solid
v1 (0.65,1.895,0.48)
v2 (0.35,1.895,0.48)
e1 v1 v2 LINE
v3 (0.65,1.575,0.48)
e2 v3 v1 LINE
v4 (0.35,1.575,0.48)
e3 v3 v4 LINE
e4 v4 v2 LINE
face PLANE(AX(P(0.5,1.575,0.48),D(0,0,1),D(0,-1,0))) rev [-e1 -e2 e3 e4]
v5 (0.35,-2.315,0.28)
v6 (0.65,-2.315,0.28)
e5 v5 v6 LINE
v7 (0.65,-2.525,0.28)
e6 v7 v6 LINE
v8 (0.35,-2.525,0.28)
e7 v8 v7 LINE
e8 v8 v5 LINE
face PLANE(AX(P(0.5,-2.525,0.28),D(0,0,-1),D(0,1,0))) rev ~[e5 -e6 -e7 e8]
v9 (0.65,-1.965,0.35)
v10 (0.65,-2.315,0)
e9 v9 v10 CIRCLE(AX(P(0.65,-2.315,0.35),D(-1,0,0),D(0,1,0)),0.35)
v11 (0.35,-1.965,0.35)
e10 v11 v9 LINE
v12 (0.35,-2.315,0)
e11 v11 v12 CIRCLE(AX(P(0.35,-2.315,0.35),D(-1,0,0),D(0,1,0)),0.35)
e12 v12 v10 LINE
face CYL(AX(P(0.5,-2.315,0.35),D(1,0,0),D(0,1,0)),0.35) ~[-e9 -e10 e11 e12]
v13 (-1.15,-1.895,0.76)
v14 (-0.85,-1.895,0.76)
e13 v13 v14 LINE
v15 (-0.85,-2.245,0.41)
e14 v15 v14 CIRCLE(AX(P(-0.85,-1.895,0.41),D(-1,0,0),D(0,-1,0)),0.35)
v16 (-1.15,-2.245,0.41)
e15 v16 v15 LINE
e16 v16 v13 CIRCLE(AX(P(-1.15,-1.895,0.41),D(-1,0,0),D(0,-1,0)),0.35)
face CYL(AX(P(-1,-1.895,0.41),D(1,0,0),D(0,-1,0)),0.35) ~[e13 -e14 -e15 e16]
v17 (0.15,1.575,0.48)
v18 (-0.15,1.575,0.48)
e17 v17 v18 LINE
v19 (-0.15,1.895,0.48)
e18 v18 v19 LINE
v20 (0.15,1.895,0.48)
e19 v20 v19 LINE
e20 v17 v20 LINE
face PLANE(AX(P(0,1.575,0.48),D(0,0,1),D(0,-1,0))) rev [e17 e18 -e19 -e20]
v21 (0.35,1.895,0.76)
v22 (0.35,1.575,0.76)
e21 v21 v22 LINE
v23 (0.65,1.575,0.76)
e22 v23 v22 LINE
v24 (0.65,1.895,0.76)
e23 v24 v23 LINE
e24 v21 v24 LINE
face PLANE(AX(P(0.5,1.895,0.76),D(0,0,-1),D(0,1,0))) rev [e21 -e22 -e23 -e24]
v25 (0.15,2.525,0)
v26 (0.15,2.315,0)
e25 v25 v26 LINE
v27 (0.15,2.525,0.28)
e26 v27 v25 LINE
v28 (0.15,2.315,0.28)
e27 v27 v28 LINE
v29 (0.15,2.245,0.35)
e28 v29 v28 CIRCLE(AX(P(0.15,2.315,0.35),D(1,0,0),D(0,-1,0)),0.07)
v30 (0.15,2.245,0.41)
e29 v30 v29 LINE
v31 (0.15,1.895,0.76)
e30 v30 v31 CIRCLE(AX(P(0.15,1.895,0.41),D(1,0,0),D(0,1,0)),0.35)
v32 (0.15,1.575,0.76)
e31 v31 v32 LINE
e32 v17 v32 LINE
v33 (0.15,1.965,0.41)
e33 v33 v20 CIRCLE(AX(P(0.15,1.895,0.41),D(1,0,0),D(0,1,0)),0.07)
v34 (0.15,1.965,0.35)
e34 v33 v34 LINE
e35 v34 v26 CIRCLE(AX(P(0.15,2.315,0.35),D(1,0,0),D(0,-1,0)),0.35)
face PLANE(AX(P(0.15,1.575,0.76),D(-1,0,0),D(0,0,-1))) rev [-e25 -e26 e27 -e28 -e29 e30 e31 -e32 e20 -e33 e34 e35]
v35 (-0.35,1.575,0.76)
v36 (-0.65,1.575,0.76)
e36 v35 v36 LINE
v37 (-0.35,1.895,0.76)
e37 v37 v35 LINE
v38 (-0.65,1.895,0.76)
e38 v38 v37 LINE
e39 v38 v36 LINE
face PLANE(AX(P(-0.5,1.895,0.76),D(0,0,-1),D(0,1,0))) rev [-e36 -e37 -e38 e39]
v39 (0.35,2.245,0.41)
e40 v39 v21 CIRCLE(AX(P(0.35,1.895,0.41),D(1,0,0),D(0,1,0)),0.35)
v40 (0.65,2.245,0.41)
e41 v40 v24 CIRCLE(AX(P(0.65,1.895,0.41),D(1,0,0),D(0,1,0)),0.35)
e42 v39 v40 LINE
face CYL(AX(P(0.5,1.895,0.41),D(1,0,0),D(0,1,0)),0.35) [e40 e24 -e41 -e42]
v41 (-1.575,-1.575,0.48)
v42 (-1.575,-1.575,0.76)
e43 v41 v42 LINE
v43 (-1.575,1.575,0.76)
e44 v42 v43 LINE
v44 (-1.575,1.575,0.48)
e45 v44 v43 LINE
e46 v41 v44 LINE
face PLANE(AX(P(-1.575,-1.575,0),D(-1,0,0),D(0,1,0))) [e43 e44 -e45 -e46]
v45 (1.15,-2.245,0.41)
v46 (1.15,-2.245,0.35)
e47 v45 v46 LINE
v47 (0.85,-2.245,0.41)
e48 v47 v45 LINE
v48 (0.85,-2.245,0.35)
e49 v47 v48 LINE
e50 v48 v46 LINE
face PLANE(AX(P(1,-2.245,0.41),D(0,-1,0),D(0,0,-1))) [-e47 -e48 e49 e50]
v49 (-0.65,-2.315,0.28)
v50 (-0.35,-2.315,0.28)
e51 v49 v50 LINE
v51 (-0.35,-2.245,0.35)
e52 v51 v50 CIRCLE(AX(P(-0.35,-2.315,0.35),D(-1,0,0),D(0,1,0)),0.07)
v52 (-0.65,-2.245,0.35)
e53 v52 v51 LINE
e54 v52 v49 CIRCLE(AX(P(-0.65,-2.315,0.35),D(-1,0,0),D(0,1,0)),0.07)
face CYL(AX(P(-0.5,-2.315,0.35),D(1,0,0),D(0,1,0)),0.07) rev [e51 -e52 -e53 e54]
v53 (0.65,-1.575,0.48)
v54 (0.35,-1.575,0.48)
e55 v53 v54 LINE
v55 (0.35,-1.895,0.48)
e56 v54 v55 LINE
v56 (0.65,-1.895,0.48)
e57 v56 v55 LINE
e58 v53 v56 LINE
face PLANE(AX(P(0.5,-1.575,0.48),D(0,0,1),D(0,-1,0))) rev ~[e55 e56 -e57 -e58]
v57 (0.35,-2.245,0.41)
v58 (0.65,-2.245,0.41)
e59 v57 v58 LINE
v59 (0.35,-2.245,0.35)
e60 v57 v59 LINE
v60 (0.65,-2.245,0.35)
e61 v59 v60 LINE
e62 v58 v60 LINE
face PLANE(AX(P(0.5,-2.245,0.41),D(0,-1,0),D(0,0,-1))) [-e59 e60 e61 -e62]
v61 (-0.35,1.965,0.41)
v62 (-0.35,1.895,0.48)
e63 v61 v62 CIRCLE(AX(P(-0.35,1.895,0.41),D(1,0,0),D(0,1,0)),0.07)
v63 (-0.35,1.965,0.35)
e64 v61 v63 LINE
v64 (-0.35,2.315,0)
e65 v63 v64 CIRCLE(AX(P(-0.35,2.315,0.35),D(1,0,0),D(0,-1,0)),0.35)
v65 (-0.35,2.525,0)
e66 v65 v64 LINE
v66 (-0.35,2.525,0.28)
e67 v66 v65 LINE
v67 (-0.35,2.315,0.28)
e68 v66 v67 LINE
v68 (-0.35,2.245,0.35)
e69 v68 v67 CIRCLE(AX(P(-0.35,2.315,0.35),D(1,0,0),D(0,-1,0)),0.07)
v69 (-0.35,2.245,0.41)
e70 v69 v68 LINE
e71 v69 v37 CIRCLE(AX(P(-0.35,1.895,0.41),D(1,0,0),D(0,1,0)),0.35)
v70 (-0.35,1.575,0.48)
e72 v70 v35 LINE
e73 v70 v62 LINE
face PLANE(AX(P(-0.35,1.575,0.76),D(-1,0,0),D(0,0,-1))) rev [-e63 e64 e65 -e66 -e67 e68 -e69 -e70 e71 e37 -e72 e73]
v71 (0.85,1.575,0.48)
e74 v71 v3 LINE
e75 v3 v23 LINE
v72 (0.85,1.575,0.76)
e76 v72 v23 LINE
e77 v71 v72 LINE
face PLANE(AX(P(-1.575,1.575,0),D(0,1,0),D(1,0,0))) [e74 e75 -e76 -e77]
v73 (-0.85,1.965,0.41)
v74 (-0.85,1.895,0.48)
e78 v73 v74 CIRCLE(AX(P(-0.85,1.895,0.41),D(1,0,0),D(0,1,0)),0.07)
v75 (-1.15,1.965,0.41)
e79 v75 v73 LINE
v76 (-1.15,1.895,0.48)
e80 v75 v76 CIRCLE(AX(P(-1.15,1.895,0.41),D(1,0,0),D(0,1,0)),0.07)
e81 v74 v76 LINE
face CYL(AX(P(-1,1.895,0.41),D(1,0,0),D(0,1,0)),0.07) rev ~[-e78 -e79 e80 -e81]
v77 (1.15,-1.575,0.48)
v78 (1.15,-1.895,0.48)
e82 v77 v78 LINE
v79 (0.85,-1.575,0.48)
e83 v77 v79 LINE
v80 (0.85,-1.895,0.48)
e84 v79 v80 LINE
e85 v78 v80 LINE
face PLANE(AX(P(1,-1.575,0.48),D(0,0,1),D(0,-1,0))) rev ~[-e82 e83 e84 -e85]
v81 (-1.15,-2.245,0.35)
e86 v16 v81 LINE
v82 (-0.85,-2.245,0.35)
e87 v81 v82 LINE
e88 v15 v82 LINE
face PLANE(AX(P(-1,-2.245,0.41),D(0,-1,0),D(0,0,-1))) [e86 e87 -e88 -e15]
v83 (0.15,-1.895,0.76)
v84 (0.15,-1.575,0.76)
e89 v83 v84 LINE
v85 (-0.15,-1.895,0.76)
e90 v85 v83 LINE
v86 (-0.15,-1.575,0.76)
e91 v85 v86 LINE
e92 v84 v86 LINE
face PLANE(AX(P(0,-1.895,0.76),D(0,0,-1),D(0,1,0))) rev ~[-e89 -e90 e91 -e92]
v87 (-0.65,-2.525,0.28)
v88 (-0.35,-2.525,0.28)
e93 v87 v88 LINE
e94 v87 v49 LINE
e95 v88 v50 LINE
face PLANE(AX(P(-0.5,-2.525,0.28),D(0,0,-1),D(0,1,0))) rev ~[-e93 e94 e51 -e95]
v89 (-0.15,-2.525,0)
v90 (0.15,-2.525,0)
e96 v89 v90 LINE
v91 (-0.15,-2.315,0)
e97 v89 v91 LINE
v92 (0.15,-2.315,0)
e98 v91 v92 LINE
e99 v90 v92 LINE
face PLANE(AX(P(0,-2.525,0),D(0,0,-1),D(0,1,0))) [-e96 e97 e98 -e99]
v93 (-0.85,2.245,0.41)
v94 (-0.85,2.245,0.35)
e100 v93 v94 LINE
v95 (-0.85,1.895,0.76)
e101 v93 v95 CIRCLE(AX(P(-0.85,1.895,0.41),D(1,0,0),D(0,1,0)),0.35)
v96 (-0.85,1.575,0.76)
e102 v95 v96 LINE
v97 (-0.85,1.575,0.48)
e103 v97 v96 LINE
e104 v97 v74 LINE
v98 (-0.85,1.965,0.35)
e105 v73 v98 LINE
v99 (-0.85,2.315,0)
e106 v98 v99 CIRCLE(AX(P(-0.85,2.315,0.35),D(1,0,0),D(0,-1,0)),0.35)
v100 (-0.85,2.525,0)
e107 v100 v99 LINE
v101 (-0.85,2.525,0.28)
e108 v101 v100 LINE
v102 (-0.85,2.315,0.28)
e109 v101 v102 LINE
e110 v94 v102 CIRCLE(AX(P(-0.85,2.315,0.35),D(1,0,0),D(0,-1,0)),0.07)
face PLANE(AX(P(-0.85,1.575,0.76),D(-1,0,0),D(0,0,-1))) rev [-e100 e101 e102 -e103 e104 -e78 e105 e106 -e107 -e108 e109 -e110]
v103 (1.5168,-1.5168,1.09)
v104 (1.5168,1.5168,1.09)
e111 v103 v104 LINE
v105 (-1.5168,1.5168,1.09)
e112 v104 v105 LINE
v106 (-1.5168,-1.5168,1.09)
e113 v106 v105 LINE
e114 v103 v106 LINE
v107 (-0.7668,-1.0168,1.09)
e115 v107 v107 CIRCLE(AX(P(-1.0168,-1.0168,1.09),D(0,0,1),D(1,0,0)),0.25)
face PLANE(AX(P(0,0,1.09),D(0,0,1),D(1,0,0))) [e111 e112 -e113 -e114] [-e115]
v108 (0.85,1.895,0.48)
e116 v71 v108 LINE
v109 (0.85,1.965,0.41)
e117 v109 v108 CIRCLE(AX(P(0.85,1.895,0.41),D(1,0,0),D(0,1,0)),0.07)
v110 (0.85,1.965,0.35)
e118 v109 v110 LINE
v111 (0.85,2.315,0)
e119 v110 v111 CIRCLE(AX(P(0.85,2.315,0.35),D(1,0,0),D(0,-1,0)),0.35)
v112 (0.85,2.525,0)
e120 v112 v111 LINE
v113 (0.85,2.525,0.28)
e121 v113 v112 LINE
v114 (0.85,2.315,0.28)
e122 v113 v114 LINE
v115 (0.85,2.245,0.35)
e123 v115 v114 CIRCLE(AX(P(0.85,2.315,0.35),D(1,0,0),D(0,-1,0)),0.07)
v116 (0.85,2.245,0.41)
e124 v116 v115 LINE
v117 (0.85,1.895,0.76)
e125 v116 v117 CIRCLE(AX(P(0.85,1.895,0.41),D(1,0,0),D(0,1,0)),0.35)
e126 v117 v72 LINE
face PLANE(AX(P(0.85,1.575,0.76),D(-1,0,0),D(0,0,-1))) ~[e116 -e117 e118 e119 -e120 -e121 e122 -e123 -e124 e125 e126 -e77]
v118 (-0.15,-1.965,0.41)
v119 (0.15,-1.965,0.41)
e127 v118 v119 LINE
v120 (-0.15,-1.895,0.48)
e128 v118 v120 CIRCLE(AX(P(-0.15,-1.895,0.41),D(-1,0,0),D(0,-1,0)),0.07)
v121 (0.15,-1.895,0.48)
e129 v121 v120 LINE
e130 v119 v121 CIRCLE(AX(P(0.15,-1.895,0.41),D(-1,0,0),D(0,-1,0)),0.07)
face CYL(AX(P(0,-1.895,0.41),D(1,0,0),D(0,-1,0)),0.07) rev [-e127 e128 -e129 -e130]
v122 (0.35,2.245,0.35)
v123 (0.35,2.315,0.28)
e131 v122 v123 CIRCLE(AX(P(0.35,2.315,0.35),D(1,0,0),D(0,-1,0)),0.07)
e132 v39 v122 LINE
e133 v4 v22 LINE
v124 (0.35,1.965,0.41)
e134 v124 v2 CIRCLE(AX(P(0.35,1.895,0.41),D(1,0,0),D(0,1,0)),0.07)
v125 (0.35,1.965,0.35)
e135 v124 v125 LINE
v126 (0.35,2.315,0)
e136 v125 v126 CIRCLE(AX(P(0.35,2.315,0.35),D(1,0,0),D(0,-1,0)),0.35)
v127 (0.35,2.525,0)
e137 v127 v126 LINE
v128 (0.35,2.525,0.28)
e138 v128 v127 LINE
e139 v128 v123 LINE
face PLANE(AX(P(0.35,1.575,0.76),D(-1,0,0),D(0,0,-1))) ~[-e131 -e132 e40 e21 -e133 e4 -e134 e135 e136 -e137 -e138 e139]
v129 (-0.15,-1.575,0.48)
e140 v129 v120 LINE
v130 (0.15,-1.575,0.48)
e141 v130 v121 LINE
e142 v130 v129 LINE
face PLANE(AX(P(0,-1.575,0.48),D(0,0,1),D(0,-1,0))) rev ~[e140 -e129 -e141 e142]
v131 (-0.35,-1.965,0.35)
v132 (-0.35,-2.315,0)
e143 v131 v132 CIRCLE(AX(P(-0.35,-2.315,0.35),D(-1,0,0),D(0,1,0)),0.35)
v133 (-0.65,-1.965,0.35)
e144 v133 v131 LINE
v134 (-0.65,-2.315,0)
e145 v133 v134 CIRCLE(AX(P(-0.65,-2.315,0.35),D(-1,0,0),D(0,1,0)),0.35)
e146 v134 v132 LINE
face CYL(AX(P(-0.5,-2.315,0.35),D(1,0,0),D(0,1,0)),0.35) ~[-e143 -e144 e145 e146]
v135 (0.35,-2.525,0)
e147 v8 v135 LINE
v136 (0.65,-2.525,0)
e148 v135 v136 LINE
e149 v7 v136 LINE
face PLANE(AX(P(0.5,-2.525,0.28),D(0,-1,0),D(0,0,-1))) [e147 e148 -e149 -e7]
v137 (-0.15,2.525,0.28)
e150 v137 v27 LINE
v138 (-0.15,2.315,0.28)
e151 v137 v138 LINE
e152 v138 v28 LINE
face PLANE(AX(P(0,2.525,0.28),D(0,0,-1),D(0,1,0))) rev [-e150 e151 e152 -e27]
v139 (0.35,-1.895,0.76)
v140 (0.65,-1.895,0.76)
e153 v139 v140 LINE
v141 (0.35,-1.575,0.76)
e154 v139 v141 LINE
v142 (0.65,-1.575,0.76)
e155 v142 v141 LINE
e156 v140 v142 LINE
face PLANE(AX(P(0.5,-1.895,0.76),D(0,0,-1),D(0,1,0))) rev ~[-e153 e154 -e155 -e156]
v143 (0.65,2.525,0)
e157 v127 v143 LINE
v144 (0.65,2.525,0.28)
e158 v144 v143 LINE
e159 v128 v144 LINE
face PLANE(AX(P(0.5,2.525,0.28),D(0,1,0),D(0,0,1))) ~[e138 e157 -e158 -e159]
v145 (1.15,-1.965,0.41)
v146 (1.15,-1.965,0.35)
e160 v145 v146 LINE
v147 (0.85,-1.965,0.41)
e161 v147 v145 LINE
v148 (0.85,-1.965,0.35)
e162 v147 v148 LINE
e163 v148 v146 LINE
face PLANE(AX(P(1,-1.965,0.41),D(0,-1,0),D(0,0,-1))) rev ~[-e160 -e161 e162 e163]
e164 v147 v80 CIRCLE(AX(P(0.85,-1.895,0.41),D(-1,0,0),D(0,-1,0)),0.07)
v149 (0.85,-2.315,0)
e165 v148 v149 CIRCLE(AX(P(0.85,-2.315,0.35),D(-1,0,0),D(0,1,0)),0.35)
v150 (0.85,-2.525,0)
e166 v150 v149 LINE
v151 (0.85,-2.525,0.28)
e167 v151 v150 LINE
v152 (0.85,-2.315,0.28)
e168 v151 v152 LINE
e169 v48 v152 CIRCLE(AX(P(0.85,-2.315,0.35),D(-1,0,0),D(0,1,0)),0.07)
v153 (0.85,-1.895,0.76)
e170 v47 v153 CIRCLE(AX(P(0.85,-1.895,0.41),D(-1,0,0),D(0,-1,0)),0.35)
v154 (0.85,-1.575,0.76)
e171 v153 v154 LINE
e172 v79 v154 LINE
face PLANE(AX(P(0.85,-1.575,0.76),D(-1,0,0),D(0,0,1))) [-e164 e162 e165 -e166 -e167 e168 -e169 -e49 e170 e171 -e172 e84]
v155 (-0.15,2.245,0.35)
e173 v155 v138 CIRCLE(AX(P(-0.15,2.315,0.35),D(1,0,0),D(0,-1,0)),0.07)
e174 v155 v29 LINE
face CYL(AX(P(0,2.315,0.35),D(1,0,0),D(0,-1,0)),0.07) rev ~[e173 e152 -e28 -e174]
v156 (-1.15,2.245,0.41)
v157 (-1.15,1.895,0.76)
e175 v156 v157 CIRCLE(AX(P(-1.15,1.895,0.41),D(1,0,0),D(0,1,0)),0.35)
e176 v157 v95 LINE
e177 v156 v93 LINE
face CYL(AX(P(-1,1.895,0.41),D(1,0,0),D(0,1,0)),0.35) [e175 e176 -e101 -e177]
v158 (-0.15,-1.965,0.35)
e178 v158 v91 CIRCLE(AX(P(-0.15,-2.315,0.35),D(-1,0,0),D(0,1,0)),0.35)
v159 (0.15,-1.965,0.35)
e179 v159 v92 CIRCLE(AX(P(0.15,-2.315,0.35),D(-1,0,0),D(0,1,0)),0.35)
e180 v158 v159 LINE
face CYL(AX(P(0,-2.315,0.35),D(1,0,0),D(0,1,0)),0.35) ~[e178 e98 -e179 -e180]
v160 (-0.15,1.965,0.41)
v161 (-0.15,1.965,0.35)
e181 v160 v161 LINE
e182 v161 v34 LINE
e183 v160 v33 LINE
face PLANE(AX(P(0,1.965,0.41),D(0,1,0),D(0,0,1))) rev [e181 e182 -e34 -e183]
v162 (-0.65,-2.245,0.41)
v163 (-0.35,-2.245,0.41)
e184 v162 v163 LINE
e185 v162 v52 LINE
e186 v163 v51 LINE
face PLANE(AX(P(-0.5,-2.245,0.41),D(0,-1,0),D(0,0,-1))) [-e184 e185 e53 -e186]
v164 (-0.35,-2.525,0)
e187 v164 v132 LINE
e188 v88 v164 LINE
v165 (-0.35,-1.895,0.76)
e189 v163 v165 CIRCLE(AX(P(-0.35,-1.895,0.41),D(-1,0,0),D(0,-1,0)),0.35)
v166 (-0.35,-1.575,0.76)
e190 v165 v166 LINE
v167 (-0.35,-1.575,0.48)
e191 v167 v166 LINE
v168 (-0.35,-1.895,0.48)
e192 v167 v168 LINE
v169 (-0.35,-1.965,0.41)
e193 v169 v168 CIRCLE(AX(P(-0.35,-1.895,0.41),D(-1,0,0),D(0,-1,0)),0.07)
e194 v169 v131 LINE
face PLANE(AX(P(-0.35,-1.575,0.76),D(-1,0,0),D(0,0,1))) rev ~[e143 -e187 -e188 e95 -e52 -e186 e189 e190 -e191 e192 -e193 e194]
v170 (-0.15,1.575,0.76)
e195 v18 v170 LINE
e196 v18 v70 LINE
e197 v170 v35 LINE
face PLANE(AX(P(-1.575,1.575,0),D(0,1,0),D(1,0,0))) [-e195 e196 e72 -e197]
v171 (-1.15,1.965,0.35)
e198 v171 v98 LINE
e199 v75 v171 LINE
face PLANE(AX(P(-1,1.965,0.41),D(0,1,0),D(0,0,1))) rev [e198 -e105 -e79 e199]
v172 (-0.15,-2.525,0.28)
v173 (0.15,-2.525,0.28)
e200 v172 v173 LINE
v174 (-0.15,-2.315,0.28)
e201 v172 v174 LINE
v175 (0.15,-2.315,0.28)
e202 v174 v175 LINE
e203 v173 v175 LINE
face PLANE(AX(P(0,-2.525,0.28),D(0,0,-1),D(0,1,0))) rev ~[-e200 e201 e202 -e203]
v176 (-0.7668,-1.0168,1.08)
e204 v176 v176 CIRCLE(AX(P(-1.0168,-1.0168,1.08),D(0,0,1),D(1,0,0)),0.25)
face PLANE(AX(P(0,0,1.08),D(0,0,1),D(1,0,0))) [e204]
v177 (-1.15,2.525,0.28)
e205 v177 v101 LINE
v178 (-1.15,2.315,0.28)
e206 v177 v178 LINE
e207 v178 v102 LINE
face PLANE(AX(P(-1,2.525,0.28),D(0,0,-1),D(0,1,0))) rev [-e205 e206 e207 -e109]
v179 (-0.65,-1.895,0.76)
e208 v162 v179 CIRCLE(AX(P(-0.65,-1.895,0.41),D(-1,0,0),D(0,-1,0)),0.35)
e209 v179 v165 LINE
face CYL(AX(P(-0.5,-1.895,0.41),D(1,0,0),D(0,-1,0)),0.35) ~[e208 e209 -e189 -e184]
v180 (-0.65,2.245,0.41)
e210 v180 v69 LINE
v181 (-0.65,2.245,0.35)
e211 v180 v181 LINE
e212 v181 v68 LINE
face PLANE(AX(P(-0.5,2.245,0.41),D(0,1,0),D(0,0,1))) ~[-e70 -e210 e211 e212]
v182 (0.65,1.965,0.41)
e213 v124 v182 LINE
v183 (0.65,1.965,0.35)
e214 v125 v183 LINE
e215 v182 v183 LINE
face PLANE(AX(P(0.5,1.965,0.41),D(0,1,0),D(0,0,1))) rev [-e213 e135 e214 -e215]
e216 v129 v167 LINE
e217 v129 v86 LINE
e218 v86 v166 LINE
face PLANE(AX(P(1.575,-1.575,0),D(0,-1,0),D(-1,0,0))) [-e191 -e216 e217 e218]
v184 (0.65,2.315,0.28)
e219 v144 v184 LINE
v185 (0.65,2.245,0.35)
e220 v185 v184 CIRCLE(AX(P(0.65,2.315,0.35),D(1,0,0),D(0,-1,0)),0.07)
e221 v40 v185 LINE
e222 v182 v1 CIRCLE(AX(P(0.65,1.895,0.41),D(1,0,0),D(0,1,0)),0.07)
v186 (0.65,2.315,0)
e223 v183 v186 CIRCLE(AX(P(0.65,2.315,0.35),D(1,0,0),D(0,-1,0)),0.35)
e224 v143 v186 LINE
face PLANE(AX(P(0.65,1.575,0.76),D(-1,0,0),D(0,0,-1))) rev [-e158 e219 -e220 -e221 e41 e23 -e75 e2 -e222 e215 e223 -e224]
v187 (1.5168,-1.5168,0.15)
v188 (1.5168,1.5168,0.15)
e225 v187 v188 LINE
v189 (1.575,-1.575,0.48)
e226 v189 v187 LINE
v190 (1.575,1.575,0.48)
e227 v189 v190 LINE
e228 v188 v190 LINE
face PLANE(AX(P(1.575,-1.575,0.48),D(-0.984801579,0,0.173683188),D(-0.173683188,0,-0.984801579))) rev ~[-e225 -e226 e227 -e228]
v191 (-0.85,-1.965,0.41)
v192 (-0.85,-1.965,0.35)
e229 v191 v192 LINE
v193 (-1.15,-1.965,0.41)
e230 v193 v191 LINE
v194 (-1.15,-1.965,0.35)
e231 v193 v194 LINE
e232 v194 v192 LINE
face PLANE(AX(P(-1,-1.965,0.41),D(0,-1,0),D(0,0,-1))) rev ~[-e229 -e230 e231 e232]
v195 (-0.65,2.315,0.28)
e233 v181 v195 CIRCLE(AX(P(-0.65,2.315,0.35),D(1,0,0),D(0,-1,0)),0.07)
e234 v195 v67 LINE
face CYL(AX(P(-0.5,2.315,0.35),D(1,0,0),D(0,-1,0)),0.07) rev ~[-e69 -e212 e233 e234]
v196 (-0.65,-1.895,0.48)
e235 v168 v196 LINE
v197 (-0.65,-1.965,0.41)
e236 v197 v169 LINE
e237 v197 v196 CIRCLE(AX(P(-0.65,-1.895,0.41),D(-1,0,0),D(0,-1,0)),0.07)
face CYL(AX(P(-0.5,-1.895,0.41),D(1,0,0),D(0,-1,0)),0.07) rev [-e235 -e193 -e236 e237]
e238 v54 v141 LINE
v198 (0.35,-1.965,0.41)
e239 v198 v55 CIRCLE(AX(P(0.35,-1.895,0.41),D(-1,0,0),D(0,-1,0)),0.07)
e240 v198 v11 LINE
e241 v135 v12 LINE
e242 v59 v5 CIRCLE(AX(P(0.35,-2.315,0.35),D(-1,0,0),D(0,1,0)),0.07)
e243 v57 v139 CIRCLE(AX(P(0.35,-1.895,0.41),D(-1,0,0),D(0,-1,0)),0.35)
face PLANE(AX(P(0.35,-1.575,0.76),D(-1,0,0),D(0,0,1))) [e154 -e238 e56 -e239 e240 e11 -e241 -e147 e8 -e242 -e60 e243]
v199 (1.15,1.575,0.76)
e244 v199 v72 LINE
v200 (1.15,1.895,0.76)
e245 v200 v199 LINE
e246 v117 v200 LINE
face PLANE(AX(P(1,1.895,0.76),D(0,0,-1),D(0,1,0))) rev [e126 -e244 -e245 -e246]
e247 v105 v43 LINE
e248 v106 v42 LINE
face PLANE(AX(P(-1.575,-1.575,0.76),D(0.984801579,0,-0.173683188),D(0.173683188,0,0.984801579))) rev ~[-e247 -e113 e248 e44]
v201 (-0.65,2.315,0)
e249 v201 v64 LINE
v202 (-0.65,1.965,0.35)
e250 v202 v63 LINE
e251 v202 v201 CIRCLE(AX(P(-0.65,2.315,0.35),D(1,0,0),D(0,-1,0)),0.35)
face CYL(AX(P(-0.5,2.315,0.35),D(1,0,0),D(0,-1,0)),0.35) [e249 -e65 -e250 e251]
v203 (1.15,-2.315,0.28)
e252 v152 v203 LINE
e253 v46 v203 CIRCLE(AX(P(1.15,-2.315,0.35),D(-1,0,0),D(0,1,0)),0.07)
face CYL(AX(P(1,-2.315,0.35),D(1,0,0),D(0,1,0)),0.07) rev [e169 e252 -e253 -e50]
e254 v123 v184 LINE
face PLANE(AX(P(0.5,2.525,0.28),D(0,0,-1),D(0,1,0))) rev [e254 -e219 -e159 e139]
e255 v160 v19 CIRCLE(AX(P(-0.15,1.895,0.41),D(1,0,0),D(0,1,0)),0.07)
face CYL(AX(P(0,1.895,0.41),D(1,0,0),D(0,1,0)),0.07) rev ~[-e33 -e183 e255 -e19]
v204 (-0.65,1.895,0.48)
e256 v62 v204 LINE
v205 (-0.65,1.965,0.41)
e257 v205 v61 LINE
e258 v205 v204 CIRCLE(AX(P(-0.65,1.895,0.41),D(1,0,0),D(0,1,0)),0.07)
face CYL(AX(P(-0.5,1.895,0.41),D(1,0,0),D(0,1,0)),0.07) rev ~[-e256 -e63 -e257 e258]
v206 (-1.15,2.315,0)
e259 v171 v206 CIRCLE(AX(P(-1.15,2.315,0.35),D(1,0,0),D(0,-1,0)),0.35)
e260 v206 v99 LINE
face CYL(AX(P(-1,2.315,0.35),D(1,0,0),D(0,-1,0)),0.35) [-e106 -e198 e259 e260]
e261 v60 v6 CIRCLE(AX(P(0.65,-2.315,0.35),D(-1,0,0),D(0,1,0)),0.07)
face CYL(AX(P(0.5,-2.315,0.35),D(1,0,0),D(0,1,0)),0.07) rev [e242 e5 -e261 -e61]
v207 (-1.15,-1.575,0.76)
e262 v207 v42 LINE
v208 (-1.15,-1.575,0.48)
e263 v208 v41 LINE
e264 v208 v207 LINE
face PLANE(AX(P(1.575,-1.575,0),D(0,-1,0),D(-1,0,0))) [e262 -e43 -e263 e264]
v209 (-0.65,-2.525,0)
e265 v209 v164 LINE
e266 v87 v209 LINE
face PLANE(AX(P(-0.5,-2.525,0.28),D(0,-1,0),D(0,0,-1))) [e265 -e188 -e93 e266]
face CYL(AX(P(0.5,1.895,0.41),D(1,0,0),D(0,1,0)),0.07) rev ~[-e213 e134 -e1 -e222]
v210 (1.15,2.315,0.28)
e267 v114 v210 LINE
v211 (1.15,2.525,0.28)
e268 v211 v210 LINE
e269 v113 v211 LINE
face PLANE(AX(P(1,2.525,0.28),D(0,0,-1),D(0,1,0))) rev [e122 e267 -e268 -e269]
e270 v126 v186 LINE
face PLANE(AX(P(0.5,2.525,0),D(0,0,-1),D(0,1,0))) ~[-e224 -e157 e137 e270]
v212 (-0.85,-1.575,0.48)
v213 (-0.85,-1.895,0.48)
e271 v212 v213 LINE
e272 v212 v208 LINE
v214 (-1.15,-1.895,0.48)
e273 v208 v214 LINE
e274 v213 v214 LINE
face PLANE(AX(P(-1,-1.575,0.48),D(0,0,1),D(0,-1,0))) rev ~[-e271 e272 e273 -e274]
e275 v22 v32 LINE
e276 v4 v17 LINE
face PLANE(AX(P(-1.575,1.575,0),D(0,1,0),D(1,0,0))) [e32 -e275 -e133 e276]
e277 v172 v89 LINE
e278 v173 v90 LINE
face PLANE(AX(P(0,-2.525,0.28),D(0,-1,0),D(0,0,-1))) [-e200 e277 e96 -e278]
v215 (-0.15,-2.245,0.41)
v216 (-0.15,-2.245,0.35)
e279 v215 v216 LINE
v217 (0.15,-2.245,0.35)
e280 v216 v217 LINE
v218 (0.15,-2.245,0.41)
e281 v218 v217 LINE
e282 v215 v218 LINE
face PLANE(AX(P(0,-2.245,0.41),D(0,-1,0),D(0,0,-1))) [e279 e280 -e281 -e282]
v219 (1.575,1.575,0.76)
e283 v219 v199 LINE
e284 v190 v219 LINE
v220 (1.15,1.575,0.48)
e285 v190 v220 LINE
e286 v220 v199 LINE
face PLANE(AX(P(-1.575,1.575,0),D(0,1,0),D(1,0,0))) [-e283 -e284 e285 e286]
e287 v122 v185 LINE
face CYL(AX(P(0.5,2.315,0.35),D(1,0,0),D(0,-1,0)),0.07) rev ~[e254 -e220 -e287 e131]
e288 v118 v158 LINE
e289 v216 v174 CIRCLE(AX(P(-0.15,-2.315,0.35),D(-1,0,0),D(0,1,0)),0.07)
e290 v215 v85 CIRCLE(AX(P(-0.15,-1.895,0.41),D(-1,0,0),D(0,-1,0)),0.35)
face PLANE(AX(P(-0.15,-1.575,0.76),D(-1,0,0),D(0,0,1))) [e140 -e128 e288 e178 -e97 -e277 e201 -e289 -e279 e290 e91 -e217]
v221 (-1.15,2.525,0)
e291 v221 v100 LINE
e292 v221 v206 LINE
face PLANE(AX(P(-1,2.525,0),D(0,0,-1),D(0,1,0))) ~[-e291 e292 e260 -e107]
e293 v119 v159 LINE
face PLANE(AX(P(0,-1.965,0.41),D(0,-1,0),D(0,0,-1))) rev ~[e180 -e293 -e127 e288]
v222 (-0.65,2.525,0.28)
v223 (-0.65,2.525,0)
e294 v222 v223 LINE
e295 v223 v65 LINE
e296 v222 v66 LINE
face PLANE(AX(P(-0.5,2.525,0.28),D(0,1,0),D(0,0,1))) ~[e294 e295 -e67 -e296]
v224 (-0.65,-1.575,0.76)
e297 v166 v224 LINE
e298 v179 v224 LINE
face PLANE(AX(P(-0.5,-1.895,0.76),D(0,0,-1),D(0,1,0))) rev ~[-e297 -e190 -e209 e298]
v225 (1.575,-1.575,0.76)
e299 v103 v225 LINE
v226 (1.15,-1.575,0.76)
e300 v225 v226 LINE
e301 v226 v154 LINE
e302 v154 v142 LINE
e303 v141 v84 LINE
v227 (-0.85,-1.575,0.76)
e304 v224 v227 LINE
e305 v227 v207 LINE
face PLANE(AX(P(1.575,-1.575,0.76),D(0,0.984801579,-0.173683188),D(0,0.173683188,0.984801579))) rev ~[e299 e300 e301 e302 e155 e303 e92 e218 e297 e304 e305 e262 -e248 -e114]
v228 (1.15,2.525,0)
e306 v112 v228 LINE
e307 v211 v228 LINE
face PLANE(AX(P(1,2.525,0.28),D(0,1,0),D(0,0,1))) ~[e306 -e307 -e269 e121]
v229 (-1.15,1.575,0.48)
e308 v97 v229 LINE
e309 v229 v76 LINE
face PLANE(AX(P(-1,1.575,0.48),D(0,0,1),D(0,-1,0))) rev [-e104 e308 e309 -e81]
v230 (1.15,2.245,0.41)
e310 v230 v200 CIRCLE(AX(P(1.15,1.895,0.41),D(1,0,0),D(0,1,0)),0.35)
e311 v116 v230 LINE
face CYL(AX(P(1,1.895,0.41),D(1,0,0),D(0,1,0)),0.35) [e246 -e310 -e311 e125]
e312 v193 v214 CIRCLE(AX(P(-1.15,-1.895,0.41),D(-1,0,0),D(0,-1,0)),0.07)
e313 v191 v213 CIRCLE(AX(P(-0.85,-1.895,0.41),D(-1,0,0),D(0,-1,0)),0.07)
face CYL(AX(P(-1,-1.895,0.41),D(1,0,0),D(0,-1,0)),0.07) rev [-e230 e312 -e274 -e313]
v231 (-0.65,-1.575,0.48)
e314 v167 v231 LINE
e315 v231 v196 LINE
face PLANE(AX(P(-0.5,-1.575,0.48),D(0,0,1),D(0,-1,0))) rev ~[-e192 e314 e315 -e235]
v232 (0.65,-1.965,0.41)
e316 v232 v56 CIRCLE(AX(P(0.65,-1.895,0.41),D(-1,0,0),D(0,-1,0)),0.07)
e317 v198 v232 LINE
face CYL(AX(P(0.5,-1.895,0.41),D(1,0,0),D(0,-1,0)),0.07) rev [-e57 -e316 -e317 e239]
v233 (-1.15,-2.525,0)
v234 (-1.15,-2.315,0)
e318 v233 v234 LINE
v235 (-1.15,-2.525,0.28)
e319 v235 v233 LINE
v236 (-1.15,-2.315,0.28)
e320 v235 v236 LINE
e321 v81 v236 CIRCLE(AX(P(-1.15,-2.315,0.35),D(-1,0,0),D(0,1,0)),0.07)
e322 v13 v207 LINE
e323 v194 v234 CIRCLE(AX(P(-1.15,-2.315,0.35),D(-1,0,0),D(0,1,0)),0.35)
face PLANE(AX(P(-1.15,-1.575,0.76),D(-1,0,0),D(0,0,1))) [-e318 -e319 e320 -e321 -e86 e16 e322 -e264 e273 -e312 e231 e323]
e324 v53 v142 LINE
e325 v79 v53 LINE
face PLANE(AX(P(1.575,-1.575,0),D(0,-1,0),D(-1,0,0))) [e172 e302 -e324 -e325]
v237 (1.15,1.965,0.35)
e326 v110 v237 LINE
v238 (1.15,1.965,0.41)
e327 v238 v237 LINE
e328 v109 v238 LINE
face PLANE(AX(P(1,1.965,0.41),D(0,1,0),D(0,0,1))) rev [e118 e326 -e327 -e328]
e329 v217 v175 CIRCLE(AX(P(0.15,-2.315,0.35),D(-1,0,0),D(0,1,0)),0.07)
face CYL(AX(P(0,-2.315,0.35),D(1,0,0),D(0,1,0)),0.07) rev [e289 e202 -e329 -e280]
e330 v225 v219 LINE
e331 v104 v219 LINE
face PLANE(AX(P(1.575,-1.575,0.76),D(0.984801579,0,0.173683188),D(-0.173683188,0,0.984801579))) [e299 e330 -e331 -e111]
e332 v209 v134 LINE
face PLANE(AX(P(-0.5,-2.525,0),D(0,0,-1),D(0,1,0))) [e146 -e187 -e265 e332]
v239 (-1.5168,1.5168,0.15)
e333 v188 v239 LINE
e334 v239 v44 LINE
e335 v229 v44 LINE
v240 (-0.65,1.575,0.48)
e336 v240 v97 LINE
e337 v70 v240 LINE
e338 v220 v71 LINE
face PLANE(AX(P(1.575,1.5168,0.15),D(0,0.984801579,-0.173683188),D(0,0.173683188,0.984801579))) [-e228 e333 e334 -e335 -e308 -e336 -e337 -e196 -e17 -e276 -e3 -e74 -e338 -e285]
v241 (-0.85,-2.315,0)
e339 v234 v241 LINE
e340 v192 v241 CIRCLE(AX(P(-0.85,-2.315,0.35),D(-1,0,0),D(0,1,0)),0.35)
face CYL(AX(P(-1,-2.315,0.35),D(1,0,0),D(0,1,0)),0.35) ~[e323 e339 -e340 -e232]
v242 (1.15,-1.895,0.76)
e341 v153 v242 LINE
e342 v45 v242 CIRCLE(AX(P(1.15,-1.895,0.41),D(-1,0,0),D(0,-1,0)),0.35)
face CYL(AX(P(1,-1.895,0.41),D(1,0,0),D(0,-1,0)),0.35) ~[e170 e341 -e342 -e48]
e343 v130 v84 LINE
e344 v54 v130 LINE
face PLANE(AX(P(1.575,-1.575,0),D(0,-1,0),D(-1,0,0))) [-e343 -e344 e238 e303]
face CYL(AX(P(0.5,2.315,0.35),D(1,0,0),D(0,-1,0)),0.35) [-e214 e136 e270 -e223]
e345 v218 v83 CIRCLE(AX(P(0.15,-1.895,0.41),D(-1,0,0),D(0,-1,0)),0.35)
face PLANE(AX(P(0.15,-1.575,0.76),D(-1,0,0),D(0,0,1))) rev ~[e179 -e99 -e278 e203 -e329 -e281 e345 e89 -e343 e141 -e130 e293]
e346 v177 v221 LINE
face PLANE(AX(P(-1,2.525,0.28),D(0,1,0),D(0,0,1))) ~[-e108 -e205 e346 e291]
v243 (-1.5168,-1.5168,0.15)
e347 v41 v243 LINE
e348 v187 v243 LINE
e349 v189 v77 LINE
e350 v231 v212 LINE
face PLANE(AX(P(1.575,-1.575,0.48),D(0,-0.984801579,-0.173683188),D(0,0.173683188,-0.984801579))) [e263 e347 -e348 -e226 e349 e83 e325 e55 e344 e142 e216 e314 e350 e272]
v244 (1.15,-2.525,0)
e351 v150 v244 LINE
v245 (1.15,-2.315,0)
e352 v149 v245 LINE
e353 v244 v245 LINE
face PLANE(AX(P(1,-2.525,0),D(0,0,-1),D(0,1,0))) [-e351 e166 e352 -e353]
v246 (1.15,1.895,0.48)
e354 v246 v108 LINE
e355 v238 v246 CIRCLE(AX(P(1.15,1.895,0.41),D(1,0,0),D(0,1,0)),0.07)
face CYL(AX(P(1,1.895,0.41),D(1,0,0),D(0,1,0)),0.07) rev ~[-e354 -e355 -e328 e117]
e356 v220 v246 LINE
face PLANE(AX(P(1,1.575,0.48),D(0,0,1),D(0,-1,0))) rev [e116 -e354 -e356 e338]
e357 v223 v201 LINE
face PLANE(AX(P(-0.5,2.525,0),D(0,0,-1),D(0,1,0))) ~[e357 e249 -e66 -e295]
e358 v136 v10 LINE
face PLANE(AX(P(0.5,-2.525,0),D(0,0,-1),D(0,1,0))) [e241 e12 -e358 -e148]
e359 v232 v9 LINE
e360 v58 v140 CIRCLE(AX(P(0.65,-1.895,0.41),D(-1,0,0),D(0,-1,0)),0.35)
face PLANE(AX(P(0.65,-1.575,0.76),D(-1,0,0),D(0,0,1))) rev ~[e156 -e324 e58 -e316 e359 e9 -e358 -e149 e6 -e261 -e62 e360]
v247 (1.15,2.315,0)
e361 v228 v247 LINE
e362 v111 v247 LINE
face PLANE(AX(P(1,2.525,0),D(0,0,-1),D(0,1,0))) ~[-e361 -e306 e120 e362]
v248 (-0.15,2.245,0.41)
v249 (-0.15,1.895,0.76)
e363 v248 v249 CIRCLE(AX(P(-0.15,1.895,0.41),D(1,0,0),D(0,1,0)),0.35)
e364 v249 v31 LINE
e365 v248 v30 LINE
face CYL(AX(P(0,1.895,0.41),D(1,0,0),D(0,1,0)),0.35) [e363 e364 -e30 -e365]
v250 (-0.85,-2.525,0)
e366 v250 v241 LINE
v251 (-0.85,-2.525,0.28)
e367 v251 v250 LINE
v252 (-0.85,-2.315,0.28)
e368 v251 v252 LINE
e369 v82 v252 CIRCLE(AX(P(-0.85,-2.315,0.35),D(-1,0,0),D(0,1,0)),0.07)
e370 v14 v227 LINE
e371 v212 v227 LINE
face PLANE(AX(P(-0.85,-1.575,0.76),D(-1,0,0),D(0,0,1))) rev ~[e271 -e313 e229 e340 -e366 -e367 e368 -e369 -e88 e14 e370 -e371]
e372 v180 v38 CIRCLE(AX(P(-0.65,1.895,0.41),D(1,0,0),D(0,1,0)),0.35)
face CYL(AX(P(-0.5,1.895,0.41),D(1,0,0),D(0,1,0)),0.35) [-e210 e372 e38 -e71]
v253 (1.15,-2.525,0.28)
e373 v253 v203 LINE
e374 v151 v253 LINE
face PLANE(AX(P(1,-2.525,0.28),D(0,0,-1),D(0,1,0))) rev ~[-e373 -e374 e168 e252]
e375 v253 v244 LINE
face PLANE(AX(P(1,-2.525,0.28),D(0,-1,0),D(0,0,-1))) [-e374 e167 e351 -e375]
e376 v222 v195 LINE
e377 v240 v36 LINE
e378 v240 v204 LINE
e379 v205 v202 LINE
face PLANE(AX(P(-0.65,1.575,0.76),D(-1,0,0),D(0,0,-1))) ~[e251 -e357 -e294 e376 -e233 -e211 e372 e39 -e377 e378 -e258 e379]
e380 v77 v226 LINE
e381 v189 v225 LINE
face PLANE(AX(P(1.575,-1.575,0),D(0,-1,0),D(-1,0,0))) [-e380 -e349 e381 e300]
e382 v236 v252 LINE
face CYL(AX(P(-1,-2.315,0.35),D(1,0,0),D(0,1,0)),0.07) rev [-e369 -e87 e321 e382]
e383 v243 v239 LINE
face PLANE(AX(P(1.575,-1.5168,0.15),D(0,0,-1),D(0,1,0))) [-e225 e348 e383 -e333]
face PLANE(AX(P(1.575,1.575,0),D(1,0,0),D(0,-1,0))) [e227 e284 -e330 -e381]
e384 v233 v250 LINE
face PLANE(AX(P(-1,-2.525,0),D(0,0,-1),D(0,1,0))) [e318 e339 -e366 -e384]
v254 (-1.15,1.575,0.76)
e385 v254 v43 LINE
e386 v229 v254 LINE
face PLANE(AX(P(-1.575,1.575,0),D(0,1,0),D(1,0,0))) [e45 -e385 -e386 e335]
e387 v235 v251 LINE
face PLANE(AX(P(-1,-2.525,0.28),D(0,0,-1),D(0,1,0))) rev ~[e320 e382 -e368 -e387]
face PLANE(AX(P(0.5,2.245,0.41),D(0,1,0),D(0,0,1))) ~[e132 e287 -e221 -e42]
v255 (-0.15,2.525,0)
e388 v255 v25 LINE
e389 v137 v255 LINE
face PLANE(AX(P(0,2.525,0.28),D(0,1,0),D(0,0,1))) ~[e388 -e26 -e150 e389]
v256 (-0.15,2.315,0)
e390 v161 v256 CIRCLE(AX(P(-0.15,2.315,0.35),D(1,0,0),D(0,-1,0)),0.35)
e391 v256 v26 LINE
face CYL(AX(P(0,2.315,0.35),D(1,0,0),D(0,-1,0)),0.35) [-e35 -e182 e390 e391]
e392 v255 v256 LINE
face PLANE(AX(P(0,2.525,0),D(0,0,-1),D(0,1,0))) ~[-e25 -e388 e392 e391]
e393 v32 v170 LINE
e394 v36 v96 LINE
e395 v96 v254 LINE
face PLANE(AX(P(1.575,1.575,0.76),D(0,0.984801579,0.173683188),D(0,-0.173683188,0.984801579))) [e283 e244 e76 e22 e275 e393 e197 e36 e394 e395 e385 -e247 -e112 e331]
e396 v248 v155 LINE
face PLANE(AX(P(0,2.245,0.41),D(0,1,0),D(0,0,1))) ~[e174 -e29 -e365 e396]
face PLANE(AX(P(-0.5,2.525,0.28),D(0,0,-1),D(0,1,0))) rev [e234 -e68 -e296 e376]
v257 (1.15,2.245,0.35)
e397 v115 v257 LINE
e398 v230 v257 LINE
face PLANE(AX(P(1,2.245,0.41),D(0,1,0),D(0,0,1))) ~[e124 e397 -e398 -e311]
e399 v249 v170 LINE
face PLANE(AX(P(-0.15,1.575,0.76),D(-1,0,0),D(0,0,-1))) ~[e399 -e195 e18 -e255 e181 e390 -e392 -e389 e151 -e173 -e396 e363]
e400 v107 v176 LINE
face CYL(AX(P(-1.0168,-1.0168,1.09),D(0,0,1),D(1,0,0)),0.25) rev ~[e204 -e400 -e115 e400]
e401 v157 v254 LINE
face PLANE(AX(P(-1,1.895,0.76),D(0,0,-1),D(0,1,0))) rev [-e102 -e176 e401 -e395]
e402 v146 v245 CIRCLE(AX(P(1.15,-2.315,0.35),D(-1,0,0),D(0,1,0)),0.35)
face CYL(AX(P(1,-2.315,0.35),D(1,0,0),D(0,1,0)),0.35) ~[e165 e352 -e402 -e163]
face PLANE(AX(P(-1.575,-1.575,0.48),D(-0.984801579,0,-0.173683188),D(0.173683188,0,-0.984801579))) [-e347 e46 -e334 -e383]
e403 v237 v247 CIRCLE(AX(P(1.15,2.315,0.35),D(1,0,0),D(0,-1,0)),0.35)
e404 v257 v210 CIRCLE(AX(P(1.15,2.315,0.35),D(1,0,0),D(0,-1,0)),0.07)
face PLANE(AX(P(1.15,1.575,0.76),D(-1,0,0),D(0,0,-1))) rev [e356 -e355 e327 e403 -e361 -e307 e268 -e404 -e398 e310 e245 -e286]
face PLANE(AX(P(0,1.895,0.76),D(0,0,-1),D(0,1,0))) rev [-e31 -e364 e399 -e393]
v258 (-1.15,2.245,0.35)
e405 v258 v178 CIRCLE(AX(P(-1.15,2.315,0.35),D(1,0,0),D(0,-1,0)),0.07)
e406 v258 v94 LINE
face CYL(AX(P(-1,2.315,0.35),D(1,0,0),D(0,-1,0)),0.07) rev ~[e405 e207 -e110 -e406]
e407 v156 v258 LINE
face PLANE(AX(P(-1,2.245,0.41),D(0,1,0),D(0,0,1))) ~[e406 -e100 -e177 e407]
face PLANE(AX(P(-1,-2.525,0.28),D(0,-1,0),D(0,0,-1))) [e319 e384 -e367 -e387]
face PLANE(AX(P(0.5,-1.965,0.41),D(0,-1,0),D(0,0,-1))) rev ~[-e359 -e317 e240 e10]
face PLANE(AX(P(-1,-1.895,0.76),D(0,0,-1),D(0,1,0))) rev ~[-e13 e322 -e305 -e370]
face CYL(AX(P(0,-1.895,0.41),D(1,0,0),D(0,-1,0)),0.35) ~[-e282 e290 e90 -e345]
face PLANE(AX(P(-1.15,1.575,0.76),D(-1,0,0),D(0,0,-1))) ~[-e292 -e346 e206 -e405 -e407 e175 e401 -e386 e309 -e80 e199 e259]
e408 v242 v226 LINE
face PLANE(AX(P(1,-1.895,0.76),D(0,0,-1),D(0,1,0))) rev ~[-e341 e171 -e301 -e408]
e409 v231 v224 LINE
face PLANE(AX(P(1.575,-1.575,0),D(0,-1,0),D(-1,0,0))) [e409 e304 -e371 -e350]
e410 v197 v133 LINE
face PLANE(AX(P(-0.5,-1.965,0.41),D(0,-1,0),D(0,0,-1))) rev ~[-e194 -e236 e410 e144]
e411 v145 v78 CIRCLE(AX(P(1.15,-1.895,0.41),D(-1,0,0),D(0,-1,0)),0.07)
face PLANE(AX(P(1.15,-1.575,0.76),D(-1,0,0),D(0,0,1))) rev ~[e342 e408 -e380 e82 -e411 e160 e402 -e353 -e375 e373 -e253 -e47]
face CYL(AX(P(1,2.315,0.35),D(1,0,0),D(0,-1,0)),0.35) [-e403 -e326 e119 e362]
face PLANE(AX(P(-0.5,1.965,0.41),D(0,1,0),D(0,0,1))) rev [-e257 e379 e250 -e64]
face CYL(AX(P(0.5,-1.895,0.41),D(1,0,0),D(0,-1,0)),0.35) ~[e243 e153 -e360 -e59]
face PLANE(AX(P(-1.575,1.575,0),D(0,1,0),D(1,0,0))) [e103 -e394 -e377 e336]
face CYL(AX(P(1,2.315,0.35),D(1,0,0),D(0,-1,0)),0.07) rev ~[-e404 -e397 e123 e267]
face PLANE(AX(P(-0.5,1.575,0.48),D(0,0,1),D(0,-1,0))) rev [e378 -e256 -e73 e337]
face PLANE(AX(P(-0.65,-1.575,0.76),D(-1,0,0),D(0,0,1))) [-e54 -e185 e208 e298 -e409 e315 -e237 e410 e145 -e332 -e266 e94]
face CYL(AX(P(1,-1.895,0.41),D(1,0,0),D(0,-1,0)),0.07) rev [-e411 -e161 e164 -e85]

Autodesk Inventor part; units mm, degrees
ref_plane "YZ Plane" through (0, 0, 0) normal (1, 0, 0) x (0, 1, 0)
sketch "Эскиз1" plane through (0, 0, 0) normal (0, 0, 1) x (1, 0, 0)
  line L0 (-1.575, 1.575) -> (1.575, 1.575)
  line L1 (1.575, 1.575) -> (1.575, -1.575)
  line L2 (1.575, -1.575) -> (-1.575, -1.575)
  line L3 (-1.575, -1.575) -> (-1.575, 1.575)
  point P0 (0, 0)
  dimension "d0" = 1.575
  dimension "d1" = 1.575
  dimension "d2" = 3.15
  dimension "d3" = 3.15
extrude "Выдавливание1" add sketch "Эскиз1" along normal blind 1.09
sketch "Эскиз2" plane through (1.575, -1.575, 0) normal (1, 0, 0) x (0, 0, -1)
  line L0 (-1.09, 3.15) -> (-1.09, 0) projected
  line L1 (0, 0) -> (-1.09, 0) projected
  line L2 (0, 3.15) -> (0, 0) projected
  line L3 (0, 3.15) -> (-1.09, 3.15) projected
  line L4 (-0.76, 0) -> (-0.76, 3.15)
  line L5 (-0.48, 0) -> (-0.48, 3.15)
  line L6 (-0.48, 0) -> (-0.15, 0.0582)
  line L7 (-0.15, 0.0582) -> (-0.15, 3.0918)
  line L8 (-0.15, 3.0918) -> (-0.48, 3.15)
  line L9 (-0.76, 3.15) -> (-1.09, 3.0918)
  line L10 (-0.76, 0) -> (-1.09, 0.0582)
  point P0 (0, 1.575)
  dimension "d6" = 0.28
  dimension "d7" = 0.15
  dimension "d8" = 0.33
  dimension "d9" = 0.33
  dimension "d10" = 10
  dimension "d11" = 10
extrude "Выдавливание2" cut sketch "Эскиз2" against normal through all contours L3 L9 L0 | L10 L1 L0 | L3 L2 L1 L6 L7 L8
sketch "Эскиз3" plane through (-1.575, -1.575, 0.48) normal (0, -1, 0) x (1, 0, 0)
  line L0 (0, 0.28) -> (0, 0.61) projected
  line L1 (3.15, 0.28) -> (0, 0.28) projected
  line L2 (3.15, 0.61) -> (3.15, 0.28) projected
  line L3 (0, 0.61) -> (3.15, 0.61) projected
  line L4 (0, -0.33) -> (0, 0) projected
  line L5 (3.15, -0.33) -> (0, -0.33) projected
  line L6 (3.15, 0) -> (3.15, -0.33) projected
  line L7 (0, 0) -> (3.15, 0) projected
  line L8 (0, 0.28) -> (0.0582, 0.61)
  line L9 (0, 0) -> (0.0582, -0.33)
  line L10 (3.15, 0) -> (3.0918, -0.33)
  line L11 (3.15, 0.28) -> (3.0918, 0.61)
  point P0 (1.575, -0.48)
  dimension "d14" = 10
  dimension "d15" = 10
extrude "Выдавливание3" cut sketch "Эскиз3" against normal through all contours L0 L3 L8 | L11 L3 L2 | L4 L9 L5 | L6 L5 L10
ref_plane "РабПлоскость1" through (-1, -1.575, 0.76) normal (-1, 0, 0) x (0, 0, 1)
sketch "Эскиз4" plane through (-1, -1.575, 0.76) normal (-1, 0, 0) x (0, 0, 1)
  line L0 (0.33, 0.0582) -> (0, 0) projected
  line L1 (0.33, 3.0918) -> (0.33, 0.0582) projected
  line L2 (0, 3.15) -> (0.33, 3.0918) projected
  line L3 (0, 0) -> (0, 3.15) projected
  line L4 (0, 0) -> (0, 3.15) projected
  line L5 (-0.28, 3.15) -> (0, 3.15) projected
  line L6 (-0.28, 3.15) -> (-0.28, 0) projected
  line L7 (-0.28, 0) -> (0, 0) projected
  line L8 (-0.61, 3.0918) -> (-0.28, 3.15) projected
  line L9 (-0.61, 0.0582) -> (-0.61, 3.0918) projected
  line L10 (-0.28, 0) -> (-0.61, 0.0582) projected
  line L11 (-0.28, 3.15) -> (-0.28, 0) projected
  line L12 (0, -0.32) -> (0, 0)
  line L13 (0, 0) -> (-0.28, 0)
  line L14 (-0.28, 0) -> (-0.28, -0.32)
  line L15 (-0.76, 1.575) -> (0.8724, 1.575) construction
  line L16 (-0.48, -0.95) -> (-0.76, -0.95)
  line L17 (-0.76, -0.95) -> (-0.76, -0.74)
  line L18 (-0.48, -0.95) -> (-0.48, -0.74)
  line L19 (-0.35, -0.39) -> (-0.41, -0.39)
  line L20 (-0.35, -0.67) -> (-0.41, -0.67)
  arc A0 (-0.35, -0.39) -> (-0.28, -0.32) centre (-0.35, -0.32) ccw
  arc A1 (-0.41, -0.67) -> (-0.48, -0.74) centre (-0.41, -0.74) ccw
  arc A2 (-0.35, -0.67) -> (0, -0.32) centre (-0.35, -0.32) ccw
  arc A3 (-0.41, -0.39) -> (-0.76, -0.74) centre (-0.41, -0.74) ccw
  dimension "d19" = 2.525
  dimension "d20" = 0.15
  dimension "d21" = 0.28
  dimension "d22" = 0.28
  dimension "d23" = 0.56
  dimension "d24" = 0.28
  dimension "d25" = 0.14
  dimension "d26" = 0.14
extrude "Выдавливание4" add sketch "Эскиз4" along normal mid plane 0.3 contours L12 A2 L20 A1 L18 L16 L17 A3 L19 A0 L14 L7
ref_plane "РабПлоскость2" through (-1.575, 0, 0.48) normal (0, 1, 0) x (1, 0, 0)
mirror "Зеркальное отражение1" about plane through (-1.575, 0, 0.48) normal (0, 1, 0) of "Выдавливание4"
pattern_linear "Прямоуг.массив1" count 5 spacing 0.5 along (1, 0, 0) of "Выдавливание4", "Зеркальное отражение1"
sketch "Эскиз5" plane through (0, 0, 1.09) normal (0, 0, 1) x (1, 0, 0)
  line L0 (-1.5168, 1.5168) -> (-1.5168, -1.5168) projected
  line L1 (-1.5168, -1.5168) -> (1.5168, -1.5168) projected
  circle A0 centre (-1.0168, -1.0168) radius 0.25
  point P0 (0, 0)
  dimension "d33" = 0.5
  dimension "d36" = 0.5
  dimension "d37" = 0.5
extrude "Выдавливание5" cut sketch "Эскиз5" against normal blind 0.01
equation "\"d0\" = 0.5 * d3"
equation "\"d1\" = 0.5 * d2"
equation "\"d8\" = d9"
equation "\"d22\" = d21"
equation "\"d24\" = d21"
equation "\"d25\" = 0.5 * d21"
equation "\"d26\" = 0.5 * d21"
equation "\"d36\" = d33"
equation "\"d37\" = d33"
properties part number "SOIC-10 micro (RM-10)"
